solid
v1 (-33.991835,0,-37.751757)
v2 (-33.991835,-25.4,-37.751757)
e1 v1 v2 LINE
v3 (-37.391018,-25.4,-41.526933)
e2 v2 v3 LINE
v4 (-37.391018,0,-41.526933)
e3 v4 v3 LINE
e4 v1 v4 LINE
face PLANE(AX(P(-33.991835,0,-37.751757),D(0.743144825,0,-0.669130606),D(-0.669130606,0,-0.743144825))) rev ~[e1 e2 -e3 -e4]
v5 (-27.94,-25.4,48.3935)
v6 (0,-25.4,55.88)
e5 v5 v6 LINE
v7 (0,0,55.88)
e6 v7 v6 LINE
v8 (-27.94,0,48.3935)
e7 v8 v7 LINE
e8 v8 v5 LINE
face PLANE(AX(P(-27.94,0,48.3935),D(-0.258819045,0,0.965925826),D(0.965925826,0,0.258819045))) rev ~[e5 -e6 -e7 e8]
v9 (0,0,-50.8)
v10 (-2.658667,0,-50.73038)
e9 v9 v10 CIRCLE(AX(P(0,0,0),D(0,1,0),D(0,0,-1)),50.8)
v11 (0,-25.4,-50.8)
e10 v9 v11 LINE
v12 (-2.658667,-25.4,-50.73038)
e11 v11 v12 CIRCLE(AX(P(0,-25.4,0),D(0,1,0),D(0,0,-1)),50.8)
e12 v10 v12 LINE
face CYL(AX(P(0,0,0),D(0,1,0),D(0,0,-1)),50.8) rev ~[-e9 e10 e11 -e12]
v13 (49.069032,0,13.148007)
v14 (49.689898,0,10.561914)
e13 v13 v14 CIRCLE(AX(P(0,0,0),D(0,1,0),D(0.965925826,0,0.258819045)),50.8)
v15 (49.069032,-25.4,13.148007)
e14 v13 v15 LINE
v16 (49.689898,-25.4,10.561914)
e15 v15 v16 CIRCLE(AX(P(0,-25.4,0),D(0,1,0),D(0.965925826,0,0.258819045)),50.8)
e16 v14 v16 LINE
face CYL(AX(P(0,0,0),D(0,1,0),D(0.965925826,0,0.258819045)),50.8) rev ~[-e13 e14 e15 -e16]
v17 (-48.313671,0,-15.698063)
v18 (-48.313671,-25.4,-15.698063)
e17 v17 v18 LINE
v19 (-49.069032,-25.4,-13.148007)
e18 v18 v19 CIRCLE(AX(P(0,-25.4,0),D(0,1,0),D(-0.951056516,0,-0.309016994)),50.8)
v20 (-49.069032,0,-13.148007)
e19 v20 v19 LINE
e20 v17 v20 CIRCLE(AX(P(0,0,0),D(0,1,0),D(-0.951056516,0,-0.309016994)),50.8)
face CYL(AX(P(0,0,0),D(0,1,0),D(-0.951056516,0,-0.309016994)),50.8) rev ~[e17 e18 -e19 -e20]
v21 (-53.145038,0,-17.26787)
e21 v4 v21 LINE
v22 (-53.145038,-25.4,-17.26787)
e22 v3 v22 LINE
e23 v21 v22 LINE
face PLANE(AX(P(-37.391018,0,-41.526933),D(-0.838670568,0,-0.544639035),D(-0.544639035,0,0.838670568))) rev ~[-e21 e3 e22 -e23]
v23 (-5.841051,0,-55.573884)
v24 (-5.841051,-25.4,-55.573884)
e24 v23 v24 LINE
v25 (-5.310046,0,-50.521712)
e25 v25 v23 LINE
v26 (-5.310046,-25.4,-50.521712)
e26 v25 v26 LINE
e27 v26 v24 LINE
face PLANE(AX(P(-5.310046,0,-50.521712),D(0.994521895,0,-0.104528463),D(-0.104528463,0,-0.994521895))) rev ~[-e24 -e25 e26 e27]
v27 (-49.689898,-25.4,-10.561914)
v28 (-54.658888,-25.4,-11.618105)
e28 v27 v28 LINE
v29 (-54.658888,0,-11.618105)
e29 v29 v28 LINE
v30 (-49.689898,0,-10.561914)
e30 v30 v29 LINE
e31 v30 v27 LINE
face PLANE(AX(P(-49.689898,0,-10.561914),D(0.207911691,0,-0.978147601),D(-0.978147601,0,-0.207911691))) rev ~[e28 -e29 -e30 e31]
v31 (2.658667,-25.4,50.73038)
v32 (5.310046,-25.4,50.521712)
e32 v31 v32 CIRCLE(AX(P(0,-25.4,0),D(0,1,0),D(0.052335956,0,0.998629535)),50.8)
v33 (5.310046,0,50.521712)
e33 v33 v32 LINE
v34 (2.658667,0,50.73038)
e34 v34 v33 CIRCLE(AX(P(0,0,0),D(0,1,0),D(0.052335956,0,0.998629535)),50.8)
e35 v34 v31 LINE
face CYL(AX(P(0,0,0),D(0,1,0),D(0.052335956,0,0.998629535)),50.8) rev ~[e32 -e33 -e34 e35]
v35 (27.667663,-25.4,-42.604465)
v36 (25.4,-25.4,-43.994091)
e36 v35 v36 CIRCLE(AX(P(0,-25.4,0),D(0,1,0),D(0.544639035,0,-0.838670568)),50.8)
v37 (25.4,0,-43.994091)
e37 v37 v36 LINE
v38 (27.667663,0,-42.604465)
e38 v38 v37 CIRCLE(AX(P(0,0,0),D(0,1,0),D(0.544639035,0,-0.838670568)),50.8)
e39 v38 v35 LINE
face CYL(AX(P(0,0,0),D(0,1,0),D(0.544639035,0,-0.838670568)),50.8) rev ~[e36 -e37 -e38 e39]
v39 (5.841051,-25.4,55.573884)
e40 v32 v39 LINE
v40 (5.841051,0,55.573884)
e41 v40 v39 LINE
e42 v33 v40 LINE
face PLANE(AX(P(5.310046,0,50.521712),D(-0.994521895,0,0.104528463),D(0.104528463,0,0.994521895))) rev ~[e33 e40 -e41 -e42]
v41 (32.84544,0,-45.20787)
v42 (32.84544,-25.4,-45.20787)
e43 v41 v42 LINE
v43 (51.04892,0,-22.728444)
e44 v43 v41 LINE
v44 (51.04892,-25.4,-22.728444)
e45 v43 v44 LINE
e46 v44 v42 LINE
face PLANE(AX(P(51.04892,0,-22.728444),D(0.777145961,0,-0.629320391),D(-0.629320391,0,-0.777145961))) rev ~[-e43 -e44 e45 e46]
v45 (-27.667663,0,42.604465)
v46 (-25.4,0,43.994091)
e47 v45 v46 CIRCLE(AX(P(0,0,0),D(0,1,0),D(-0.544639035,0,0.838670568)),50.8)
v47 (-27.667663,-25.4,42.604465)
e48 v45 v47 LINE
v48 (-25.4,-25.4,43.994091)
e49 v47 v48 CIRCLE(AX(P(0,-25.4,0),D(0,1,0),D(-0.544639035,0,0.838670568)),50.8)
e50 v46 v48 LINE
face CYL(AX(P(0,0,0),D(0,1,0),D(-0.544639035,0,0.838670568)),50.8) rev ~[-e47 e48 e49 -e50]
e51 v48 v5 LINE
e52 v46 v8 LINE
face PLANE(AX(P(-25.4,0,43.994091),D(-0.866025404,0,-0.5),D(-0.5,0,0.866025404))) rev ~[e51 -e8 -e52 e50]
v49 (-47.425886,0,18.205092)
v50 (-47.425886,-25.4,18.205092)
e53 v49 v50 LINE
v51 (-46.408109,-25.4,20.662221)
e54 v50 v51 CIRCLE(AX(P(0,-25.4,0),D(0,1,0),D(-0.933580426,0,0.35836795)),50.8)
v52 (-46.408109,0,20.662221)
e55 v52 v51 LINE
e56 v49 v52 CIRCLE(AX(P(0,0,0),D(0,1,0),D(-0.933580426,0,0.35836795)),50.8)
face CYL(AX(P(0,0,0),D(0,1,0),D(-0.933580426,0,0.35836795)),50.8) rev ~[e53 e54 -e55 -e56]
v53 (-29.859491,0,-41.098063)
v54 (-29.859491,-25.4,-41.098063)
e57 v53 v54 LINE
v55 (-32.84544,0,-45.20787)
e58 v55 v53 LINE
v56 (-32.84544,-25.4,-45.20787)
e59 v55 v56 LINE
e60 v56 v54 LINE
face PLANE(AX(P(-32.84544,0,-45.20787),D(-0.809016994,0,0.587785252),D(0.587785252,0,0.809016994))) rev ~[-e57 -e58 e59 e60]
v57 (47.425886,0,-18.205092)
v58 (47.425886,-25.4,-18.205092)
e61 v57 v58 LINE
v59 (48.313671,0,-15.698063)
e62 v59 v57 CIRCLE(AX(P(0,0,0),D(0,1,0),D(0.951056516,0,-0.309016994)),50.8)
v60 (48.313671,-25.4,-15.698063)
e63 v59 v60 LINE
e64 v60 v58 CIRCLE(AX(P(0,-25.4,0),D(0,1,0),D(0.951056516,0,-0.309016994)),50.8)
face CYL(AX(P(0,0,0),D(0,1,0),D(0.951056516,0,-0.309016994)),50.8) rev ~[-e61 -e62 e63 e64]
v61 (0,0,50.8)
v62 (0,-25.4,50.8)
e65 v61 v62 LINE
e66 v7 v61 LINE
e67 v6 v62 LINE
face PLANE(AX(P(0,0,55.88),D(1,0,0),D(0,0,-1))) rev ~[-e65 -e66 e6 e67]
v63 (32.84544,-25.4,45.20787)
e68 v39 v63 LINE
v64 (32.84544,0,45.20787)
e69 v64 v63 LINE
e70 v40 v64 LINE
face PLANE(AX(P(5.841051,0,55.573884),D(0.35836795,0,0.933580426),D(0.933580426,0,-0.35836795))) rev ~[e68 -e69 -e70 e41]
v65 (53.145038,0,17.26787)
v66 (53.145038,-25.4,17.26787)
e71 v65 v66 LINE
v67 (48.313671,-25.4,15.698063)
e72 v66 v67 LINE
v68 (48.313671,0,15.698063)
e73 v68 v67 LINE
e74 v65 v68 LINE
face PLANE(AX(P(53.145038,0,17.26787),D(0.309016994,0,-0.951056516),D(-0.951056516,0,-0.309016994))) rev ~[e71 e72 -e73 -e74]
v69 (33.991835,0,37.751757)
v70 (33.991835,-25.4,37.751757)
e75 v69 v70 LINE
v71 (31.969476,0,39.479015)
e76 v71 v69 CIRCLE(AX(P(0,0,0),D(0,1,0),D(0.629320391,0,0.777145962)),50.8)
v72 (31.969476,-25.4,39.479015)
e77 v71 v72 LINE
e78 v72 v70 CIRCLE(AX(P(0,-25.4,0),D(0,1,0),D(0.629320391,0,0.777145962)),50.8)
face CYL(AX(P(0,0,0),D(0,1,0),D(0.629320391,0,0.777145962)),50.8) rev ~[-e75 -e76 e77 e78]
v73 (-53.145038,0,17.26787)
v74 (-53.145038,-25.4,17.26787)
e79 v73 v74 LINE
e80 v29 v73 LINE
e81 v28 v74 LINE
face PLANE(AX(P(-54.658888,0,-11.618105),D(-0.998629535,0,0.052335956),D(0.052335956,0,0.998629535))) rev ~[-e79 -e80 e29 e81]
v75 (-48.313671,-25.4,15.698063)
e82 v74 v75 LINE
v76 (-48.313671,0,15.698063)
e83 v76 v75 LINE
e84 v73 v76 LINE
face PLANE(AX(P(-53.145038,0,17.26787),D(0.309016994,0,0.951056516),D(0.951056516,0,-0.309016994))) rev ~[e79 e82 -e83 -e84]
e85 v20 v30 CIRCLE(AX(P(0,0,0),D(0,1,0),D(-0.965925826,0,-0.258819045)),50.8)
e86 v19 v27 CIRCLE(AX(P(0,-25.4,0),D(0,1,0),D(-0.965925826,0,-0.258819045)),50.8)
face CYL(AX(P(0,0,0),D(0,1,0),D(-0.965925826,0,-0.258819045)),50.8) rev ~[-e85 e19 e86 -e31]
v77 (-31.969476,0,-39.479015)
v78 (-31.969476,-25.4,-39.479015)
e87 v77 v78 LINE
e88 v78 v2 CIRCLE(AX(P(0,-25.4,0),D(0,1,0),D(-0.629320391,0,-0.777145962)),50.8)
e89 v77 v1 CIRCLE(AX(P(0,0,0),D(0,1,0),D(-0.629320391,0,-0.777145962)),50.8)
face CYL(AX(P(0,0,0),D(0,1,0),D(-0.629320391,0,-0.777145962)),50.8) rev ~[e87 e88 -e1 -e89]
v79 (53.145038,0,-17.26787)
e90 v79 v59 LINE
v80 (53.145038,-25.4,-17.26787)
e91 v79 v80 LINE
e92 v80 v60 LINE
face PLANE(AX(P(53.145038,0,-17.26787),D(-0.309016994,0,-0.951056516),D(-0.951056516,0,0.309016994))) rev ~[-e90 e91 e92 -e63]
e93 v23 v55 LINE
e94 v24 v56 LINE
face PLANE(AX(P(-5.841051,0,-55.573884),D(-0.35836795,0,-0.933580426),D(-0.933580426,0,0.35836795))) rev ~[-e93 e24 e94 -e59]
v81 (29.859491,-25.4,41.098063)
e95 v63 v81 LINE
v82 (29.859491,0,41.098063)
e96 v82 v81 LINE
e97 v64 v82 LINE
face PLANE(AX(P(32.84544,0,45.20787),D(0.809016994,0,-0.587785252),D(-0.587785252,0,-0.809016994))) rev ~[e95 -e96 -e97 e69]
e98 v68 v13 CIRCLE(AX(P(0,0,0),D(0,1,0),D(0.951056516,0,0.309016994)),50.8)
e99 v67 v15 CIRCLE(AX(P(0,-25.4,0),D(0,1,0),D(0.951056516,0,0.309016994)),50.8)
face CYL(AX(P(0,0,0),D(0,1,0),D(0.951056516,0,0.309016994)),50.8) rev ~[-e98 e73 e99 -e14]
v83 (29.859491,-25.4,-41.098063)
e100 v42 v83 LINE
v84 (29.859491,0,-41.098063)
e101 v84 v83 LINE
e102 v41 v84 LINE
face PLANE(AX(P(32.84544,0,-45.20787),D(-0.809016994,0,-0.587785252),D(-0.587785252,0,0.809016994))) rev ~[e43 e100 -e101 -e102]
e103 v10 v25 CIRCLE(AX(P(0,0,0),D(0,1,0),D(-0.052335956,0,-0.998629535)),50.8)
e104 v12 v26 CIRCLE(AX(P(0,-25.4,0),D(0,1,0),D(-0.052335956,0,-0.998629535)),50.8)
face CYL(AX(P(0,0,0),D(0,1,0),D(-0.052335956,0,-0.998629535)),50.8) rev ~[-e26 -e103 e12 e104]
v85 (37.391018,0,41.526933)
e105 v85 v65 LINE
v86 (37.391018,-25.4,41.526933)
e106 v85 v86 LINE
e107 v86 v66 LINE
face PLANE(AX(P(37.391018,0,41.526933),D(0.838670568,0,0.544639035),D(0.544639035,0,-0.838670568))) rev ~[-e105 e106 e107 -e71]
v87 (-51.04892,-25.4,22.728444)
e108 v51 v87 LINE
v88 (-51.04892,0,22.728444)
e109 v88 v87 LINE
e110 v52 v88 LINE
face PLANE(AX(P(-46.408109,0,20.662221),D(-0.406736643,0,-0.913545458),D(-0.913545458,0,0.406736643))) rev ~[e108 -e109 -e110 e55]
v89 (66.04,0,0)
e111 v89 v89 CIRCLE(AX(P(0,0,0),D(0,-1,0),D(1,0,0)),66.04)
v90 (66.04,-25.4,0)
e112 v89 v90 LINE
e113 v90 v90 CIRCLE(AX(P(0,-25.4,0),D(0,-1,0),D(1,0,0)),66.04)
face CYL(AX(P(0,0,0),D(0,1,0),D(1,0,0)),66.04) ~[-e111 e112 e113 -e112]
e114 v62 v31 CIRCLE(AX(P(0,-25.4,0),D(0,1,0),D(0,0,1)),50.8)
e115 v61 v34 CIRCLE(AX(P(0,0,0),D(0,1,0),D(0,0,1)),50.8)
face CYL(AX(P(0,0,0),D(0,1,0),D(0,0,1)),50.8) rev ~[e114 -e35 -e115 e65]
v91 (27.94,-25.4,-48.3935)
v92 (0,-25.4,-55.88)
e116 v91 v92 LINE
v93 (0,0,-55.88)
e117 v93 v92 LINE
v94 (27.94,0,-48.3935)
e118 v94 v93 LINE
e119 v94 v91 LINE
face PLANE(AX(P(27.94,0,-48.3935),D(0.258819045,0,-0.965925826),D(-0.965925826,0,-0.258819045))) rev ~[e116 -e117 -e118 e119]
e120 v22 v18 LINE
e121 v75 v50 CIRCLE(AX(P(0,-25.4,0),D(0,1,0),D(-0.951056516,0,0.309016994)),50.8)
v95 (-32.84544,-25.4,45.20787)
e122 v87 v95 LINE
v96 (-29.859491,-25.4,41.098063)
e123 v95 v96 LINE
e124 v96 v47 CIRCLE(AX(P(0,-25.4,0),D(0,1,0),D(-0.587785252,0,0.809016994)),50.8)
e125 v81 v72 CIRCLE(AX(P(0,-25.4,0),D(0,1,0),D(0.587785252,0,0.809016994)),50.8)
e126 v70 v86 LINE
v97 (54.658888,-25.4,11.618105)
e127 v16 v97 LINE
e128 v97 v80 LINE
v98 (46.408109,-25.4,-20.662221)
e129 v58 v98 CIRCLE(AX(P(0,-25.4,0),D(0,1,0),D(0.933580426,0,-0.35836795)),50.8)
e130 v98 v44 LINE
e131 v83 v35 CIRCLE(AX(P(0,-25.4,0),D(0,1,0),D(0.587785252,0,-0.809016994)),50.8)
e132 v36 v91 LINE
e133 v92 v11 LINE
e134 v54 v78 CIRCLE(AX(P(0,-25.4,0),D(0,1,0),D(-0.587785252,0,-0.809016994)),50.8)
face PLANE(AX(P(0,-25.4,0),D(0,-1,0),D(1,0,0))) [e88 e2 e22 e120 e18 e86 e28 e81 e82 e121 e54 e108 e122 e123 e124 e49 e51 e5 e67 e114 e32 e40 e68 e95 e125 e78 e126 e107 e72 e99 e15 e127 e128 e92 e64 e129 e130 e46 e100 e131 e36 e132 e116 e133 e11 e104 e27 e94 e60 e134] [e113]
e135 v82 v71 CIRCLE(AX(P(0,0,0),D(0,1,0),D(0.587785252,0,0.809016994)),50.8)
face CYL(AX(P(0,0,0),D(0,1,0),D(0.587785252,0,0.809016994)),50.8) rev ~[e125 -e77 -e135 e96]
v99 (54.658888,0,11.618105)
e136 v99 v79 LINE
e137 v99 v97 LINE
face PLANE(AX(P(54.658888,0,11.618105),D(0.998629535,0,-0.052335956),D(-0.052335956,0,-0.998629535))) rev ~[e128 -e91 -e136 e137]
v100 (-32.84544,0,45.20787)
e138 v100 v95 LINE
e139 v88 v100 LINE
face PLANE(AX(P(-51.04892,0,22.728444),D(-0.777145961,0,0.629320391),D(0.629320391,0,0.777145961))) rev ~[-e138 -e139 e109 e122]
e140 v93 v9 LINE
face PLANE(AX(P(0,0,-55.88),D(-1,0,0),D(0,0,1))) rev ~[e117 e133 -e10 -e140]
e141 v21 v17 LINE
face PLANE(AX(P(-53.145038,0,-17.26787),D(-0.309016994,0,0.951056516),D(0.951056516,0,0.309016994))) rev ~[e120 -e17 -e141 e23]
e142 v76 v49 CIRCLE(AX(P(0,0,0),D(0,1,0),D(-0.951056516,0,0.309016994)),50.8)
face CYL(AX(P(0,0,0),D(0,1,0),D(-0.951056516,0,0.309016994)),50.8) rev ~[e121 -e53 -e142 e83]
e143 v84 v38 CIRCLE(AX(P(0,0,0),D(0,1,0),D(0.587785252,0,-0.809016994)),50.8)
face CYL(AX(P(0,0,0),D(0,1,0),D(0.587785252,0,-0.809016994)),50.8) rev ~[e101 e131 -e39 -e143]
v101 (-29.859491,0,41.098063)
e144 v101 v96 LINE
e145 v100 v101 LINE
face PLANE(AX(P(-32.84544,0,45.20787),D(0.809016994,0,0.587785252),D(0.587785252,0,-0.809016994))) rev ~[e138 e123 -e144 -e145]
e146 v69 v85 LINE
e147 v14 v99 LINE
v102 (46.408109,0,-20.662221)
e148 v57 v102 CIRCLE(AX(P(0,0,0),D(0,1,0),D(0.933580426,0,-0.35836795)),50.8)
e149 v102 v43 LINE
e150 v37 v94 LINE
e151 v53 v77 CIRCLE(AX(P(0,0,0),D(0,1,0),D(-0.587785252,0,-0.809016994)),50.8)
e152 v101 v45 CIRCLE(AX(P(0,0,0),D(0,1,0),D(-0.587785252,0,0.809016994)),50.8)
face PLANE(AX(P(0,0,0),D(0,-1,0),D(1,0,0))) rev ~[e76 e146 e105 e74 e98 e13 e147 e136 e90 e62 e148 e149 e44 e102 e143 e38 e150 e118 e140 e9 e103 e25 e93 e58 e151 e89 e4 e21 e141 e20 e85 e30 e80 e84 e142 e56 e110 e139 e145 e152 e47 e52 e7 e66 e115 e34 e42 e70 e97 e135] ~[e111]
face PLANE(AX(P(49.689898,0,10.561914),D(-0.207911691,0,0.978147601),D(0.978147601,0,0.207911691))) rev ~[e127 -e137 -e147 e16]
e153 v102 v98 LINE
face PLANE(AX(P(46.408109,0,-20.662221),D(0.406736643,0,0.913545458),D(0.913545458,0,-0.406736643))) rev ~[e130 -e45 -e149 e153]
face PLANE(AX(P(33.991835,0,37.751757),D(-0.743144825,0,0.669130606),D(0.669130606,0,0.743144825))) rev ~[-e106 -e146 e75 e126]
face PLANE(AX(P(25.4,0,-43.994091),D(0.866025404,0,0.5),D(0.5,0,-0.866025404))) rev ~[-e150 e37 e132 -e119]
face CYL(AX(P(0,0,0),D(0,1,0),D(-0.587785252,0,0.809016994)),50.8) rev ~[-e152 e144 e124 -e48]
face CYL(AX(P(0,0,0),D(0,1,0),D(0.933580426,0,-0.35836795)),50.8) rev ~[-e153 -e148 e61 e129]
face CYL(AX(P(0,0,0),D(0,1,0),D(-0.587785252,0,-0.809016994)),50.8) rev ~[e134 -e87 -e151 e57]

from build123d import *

# Parameters (mm, degrees)
F0_R     = 66.04
F1_DEPTH = 25.4


with BuildPart() as f1:
    # F0 (on Front) → F1 (new body)
    with BuildSketch(Plane.XZ):
        Circle(F0_R)
        with BuildLine():
            ThreePointArc((53.975935173, 14.4628082403), (54.3360311518, 13.0449269323), (54.658887929, 11.6181052829))
            ThreePointArc((54.658887929, 11.6181052829), (55.5738835132, 5.8410505274), (55.88, 0))
            ThreePointArc((55.88, 0), (55.1920244725, -8.7415579064), (53.1450381306, -17.2678696457))
            ThreePointArc((53.1450381306, -17.2678696457), (52.6748065222, -18.653127294), (52.1684742327, -20.0256010206))
            ThreePointArc((52.1684742327, -20.0256010206), (51.6263882767, -21.3843502006), (51.0489201731, -22.7284436151))
            ThreePointArc((51.0489201731, -22.7284436151), (43.4269163262, -35.1664234519), (32.8454398981, -45.2078696457))
            ThreePointArc((32.8454398981, -45.2078696457), (31.6507805194, -46.0521714202), (30.4344292766, -46.8649113368))
            ThreePointArc((30.4344292766, -46.8649113368), (29.1972197963, -47.6455323841), (27.94, -48.3934995635))
            ThreePointArc((27.94, -48.3934995635), (14.4628082403, -53.975935173), (0, -55.88))
            ThreePointArc((0, -55.88), (-1.4627678714, -55.8608513196), (-2.9245332349, -55.8034184021))
            ThreePointArc((-2.9245332349, -55.8034184021), (-4.3842942693, -55.707740609), (-5.8410505274, -55.5738835132))
            ThreePointArc((-5.8410505274, -55.5738835132), (-20.0256010206, -52.1684742327), (-32.8454398981, -45.2078696457))
            ThreePointArc((-32.8454398981, -45.2078696457), (-34.017588653, -44.3325846555), (-35.1664234519, -43.4269163262))
            ThreePointArc((-35.1664234519, -43.4269163262), (-36.2911569407, -42.4914853577), (-37.3910182833, -41.5269328477))
            ThreePointArc((-37.3910182833, -41.5269328477), (-46.8649113368, -30.4344292766), (-53.1450381306, -17.2678696457))
            ThreePointArc((-53.1450381306, -17.2678696457), (-53.5788467844, -15.8707774621), (-53.975935173, -14.4628082403))
            ThreePointArc((-53.975935173, -14.4628082403), (-54.3360311518, -13.0449269323), (-54.658887929, -11.6181052829))
            ThreePointArc((-54.658887929, -11.6181052829), (-55.8034184021, 2.9245332349), (-53.1450381306, 17.2678696457))
            ThreePointArc((-53.1450381306, 17.2678696457), (-52.6748065222, 18.653127294), (-52.1684742327, 20.0256010206))
            ThreePointArc((-52.1684742327, 20.0256010206), (-51.6263882767, 21.3843502006), (-51.0489201731, 22.7284436151))
            ThreePointArc((-51.0489201731, 22.7284436151), (-43.4269163262, 35.1664234519), (-32.8454398981, 45.2078696457))
            ThreePointArc((-32.8454398981, 45.2078696457), (-31.6507805194, 46.0521714202), (-30.4344292766, 46.8649113368))
            ThreePointArc((-30.4344292766, 46.8649113368), (-29.1972197963, 47.6455323841), (-27.94, 48.3934995635))
            ThreePointArc((-27.94, 48.3934995635), (-14.4628082403, 53.975935173), (0, 55.88))
            ThreePointArc((0, 55.88), (1.4627678714, 55.8608513196), (2.9245332349, 55.8034184021))
            ThreePointArc((2.9245332349, 55.8034184021), (4.3842942693, 55.707740609), (5.8410505274, 55.5738835132))
            ThreePointArc((5.8410505274, 55.5738835132), (20.0256010206, 52.1684742327), (32.8454398981, 45.2078696457))
            ThreePointArc((32.8454398981, 45.2078696457), (34.017588653, 44.3325846555), (35.1664234519, 43.4269163262))
            ThreePointArc((35.1664234519, 43.4269163262), (36.2911569407, 42.4914853577), (37.3910182833, 41.5269328477))
            ThreePointArc((37.3910182833, 41.5269328477), (46.8649113368, 30.4344292766), (53.1450381306, 17.2678696457))
            ThreePointArc((53.1450381306, 17.2678696457), (53.5788467844, 15.8707774621), (53.975935173, 14.4628082403))
        make_face(mode=Mode.SUBTRACT)
        with BuildLine():
            Line((-52.1684742327, 20.0256010206), (-47.4258856661, 18.2050918369))
            ThreePointArc((-47.4258856661, 18.2050918369), (-46.9330802516, 19.4403183641), (-46.4081092482, 20.6622214682))
            Line((-46.4081092482, 20.6622214683), (-51.0489201731, 22.7284436151))
            ThreePointArc((-51.0489201731, 22.7284436151), (-51.6263882767, 21.3843502006), (-52.1684742327, 20.0256010206))
        make_face()
        with BuildLine():
            ThreePointArc((-48.3136710278, 15.6980633142), (-47.8861877475, 16.9573884491), (-47.4258856661, 18.2050918369))
            Line((-47.4258856661, 18.2050918369), (-52.1684742327, 20.0256010206))
            ThreePointArc((-52.1684742327, 20.0256010206), (-52.6748065222, 18.653127294), (-53.1450381306, 17.2678696457))
            Line((-53.1450381306, 17.2678696457), (-48.3136710278, 15.6980633142))
        make_face()
        with BuildLine():
            Line((-30.4344292766, 46.8649113368), (-27.6676629788, 42.6044648516))
            ThreePointArc((-27.6676629788, 42.6044648516), (-26.5429270876, 43.3141203492), (-25.4, 43.9940905122))
            Line((-25.4, 43.9940905122), (-27.94, 48.3934995635))
            ThreePointArc((-27.94, 48.3934995635), (-29.1972197963, 47.6455323841), (-30.4344292766, 46.8649113368))
        make_face()
        with BuildLine():
            ThreePointArc((-29.8594908165, 41.0980633142), (-28.7734368358, 41.865610382), (-27.6676629788, 42.6044648516))
            Line((-27.6676629788, 42.6044648516), (-30.4344292766, 46.8649113368))
            ThreePointArc((-30.4344292766, 46.8649113368), (-31.6507805194, 46.0521714202), (-32.8454398981, 45.2078696457))
            Line((-32.8454398981, 45.2078696457), (-29.8594908165, 41.0980633142))
        make_face()
        with BuildLine():
            Line((2.9245332349, 55.8034184021), (2.6586665771, 50.7303803655))
            ThreePointArc((2.6586665771, 50.7303803655), (3.985722063, 50.6434005536), (5.310045934, 50.5217122847))
            Line((5.310045934, 50.5217122847), (5.8410505274, 55.5738835132))
            ThreePointArc((5.8410505274, 55.5738835132), (4.3842942693, 55.707740609), (2.9245332349, 55.8034184021))
        make_face()
        with BuildLine():
            ThreePointArc((0, 50.8), (1.329788974, 50.7825921088), (2.6586665771, 50.7303803655))
            Line((2.6586665771, 50.7303803655), (2.9245332349, 55.8034184021))
            ThreePointArc((2.9245332349, 55.8034184021), (1.4627678714, 55.8608513196), (0, 55.88))
            Line((0, 55.88), (0, 50.8))
        make_face()
        with BuildLine():
            ThreePointArc((29.8594908165, 41.0980633142), (30.9250805936, 40.3023496868), (31.9694758653, 39.479014842))
            Line((31.9694758653, 39.479014842), (35.1664234519, 43.4269163262))
            ThreePointArc((35.1664234519, 43.4269163262), (34.017588653, 44.3325846555), (32.8454398981, 45.2078696457))
            Line((32.8454398981, 45.2078696457), (29.8594908165, 41.0980633142))
        make_face()
        with BuildLine():
            Line((35.1664234519, 43.4269163262), (31.9694758653, 39.479014842))
            ThreePointArc((31.9694758653, 39.479014842), (32.9919608552, 38.6286230525), (33.991834803, 37.7517571343))
            Line((33.991834803, 37.7517571343), (37.3910182833, 41.5269328477))
            ThreePointArc((37.3910182833, 41.5269328477), (36.2911569407, 42.4914853577), (35.1664234519, 43.4269163262))
        make_face()
        with BuildLine():
            ThreePointArc((48.3136710278, 15.6980633142), (48.7080425313, 14.427979511), (49.0690319755, 13.1480074912))
            Line((49.0690319755, 13.1480074912), (53.975935173, 14.4628082403))
            ThreePointArc((53.975935173, 14.4628082403), (53.5788467844, 15.8707774621), (53.1450381306, 17.2678696457))
            Line((53.1450381306, 17.2678696457), (48.3136710278, 15.6980633142))
        make_face()
        with BuildLine():
            ThreePointArc((49.0690319755, 13.1480074912), (49.3963919562, 11.8590244839), (49.6898981173, 10.5619138935))
            Line((49.6898981173, 10.5619138935), (54.658887929, 11.6181052829))
            ThreePointArc((54.658887929, 11.6181052829), (54.3360311518, 13.0449269323), (53.975935173, 14.4628082403))
            Line((53.975935173, 14.4628082403), (49.0690319755, 13.1480074912))
        make_face()
        with BuildLine():
            Line((53.1450381306, -17.2678696457), (48.3136710278, -15.6980633142))
            ThreePointArc((48.3136710278, -15.6980633142), (47.8861877475, -16.9573884491), (47.4258856661, -18.2050918369))
            Line((47.4258856661, -18.2050918369), (52.1684742327, -20.0256010206))
            ThreePointArc((52.1684742327, -20.0256010206), (52.6748065222, -18.653127294), (53.1450381306, -17.2678696457))
        make_face()
        with BuildLine():
            Line((52.1684742327, -20.0256010206), (47.4258856661, -18.2050918369))
            ThreePointArc((47.4258856661, -18.2050918369), (46.9330802516, -19.4403183641), (46.4081092482, -20.6622214682))
            Line((46.4081092482, -20.6622214683), (51.0489201731, -22.7284436151))
            ThreePointArc((51.0489201731, -22.7284436151), (51.6263882767, -21.3843502006), (52.1684742327, -20.0256010206))
        make_face()
        with BuildLine():
            ThreePointArc((29.8594908165, -41.0980633142), (28.7734368358, -41.865610382), (27.6676629788, -42.6044648516))
            Line((27.6676629788, -42.6044648516), (30.4344292766, -46.8649113368))
            ThreePointArc((30.4344292766, -46.8649113368), (31.6507805194, -46.0521714202), (32.8454398981, -45.2078696457))
            Line((32.8454398981, -45.2078696457), (29.8594908165, -41.0980633142))
        make_face()
        with BuildLine():
            Line((30.4344292766, -46.8649113368), (27.6676629788, -42.6044648516))
            ThreePointArc((27.6676629788, -42.6044648516), (26.5429270876, -43.3141203492), (25.4, -43.9940905122))
            Line((25.4, -43.9940905122), (27.94, -48.3934995635))
            ThreePointArc((27.94, -48.3934995635), (29.1972197963, -47.6455323841), (30.4344292766, -46.8649113368))
        make_face()
        with BuildLine():
            ThreePointArc((0, -50.8), (-1.329788974, -50.7825921088), (-2.6586665771, -50.7303803655))
            Line((-2.6586665771, -50.7303803655), (-2.9245332349, -55.8034184021))
            ThreePointArc((-2.9245332349, -55.8034184021), (-1.4627678714, -55.8608513196), (0, -55.88))
            Line((0, -55.88), (0, -50.8))
        make_face()
        with BuildLine():
            Line((-2.9245332349, -55.8034184021), (-2.6586665771, -50.7303803655))
            ThreePointArc((-2.6586665771, -50.7303803655), (-3.985722063, -50.6434005536), (-5.310045934, -50.5217122847))
            Line((-5.310045934, -50.5217122847), (-5.8410505274, -55.5738835132))
            ThreePointArc((-5.8410505274, -55.5738835132), (-4.3842942693, -55.707740609), (-2.9245332349, -55.8034184021))
        make_face()
        with BuildLine():
            ThreePointArc((-29.8594908165, -41.0980633142), (-30.9250805936, -40.3023496868), (-31.9694758653, -39.479014842))
            Line((-31.9694758653, -39.479014842), (-35.1664234519, -43.4269163262))
            ThreePointArc((-35.1664234519, -43.4269163262), (-34.017588653, -44.3325846555), (-32.8454398981, -45.2078696457))
            Line((-32.8454398981, -45.2078696457), (-29.8594908165, -41.0980633142))
        make_face()
        with BuildLine():
            Line((-35.1664234519, -43.4269163262), (-31.9694758653, -39.479014842))
            ThreePointArc((-31.9694758653, -39.479014842), (-32.9919608552, -38.6286230525), (-33.991834803, -37.7517571343))
            Line((-33.991834803, -37.7517571343), (-37.3910182833, -41.5269328477))
            ThreePointArc((-37.3910182833, -41.5269328477), (-36.2911569407, -42.4914853577), (-35.1664234519, -43.4269163262))
        make_face()
        with BuildLine():
            ThreePointArc((-48.3136710278, -15.6980633142), (-48.7080425313, -14.427979511), (-49.0690319755, -13.1480074912))
            Line((-49.0690319755, -13.1480074912), (-53.975935173, -14.4628082403))
            ThreePointArc((-53.975935173, -14.4628082403), (-53.5788467844, -15.8707774621), (-53.1450381306, -17.2678696457))
            Line((-53.1450381306, -17.2678696457), (-48.3136710278, -15.6980633142))
        make_face()
        with BuildLine():
            Line((-53.975935173, -14.4628082403), (-49.0690319755, -13.1480074912))
            ThreePointArc((-49.0690319755, -13.1480074912), (-49.3963919562, -11.8590244839), (-49.6898981173, -10.5619138935))
            Line((-49.6898981173, -10.5619138935), (-54.658887929, -11.6181052829))
            ThreePointArc((-54.658887929, -11.6181052829), (-54.3360311518, -13.0449269323), (-53.975935173, -14.4628082403))
        make_face()
        with BuildLine():
            ThreePointArc((-53.1450381306, -17.2678696457), (-46.8649113368, -30.4344292766), (-37.3910182833, -41.5269328477))
            Line((-37.3910182833, -41.5269328477), (-53.1450381306, -17.2678696457))
        make_face()
        with BuildLine():
            ThreePointArc((-53.1450381306, 17.2678696457), (-55.8034184021, 2.9245332349), (-54.658887929, -11.6181052829))
            Line((-54.658887929, -11.6181052829), (-53.1450381306, 17.2678696457))
        make_face()
        with BuildLine():
            Line((-51.0489201731, 22.7284436151), (-32.8454398981, 45.2078696457))
            ThreePointArc((-32.8454398981, 45.2078696457), (-43.4269163262, 35.1664234519), (-51.0489201731, 22.7284436151))
        make_face()
        with BuildLine():
            ThreePointArc((0, 55.88), (-14.4628082403, 53.975935173), (-27.94, 48.3934995635))
            Line((-27.94, 48.3934995635), (0, 55.88))
        make_face()
        with BuildLine():
            ThreePointArc((32.8454398981, 45.2078696457), (20.0256010206, 52.1684742327), (5.8410505274, 55.5738835132))
            Line((5.8410505274, 55.5738835132), (32.8454398981, 45.2078696457))
        make_face()
        with BuildLine():
            Line((37.3910182833, 41.5269328477), (53.1450381306, 17.2678696457))
            ThreePointArc((53.1450381306, 17.2678696457), (46.8649113368, 30.4344292766), (37.3910182833, 41.5269328477))
        make_face()
        with BuildLine():
            ThreePointArc((55.88, 0), (55.5738835132, 5.8410505274), (54.658887929, 11.6181052829))
            Line((54.658887929, 11.6181052829), (53.1450381306, -17.2678696457))
            ThreePointArc((53.1450381306, -17.2678696457), (55.1920244725, -8.7415579064), (55.88, 0))
        make_face()
        with BuildLine():
            ThreePointArc((32.8454398981, -45.2078696457), (43.4269163262, -35.1664234519), (51.0489201731, -22.7284436151))
            Line((51.0489201731, -22.7284436151), (32.8454398981, -45.2078696457))
        make_face()
        with BuildLine():
            ThreePointArc((0, -55.88), (14.4628082403, -53.975935173), (27.94, -48.3934995635))
            Line((27.94, -48.3934995635), (0, -55.88))
        make_face()
        with BuildLine():
            ThreePointArc((-32.8454398981, -45.2078696457), (-20.0256010206, -52.1684742327), (-5.8410505274, -55.5738835132))
            Line((-5.8410505274, -55.5738835132), (-32.8454398981, -45.2078696457))
        make_face()
    extrude(amount=F1_DEPTH)


solid = f1.part
